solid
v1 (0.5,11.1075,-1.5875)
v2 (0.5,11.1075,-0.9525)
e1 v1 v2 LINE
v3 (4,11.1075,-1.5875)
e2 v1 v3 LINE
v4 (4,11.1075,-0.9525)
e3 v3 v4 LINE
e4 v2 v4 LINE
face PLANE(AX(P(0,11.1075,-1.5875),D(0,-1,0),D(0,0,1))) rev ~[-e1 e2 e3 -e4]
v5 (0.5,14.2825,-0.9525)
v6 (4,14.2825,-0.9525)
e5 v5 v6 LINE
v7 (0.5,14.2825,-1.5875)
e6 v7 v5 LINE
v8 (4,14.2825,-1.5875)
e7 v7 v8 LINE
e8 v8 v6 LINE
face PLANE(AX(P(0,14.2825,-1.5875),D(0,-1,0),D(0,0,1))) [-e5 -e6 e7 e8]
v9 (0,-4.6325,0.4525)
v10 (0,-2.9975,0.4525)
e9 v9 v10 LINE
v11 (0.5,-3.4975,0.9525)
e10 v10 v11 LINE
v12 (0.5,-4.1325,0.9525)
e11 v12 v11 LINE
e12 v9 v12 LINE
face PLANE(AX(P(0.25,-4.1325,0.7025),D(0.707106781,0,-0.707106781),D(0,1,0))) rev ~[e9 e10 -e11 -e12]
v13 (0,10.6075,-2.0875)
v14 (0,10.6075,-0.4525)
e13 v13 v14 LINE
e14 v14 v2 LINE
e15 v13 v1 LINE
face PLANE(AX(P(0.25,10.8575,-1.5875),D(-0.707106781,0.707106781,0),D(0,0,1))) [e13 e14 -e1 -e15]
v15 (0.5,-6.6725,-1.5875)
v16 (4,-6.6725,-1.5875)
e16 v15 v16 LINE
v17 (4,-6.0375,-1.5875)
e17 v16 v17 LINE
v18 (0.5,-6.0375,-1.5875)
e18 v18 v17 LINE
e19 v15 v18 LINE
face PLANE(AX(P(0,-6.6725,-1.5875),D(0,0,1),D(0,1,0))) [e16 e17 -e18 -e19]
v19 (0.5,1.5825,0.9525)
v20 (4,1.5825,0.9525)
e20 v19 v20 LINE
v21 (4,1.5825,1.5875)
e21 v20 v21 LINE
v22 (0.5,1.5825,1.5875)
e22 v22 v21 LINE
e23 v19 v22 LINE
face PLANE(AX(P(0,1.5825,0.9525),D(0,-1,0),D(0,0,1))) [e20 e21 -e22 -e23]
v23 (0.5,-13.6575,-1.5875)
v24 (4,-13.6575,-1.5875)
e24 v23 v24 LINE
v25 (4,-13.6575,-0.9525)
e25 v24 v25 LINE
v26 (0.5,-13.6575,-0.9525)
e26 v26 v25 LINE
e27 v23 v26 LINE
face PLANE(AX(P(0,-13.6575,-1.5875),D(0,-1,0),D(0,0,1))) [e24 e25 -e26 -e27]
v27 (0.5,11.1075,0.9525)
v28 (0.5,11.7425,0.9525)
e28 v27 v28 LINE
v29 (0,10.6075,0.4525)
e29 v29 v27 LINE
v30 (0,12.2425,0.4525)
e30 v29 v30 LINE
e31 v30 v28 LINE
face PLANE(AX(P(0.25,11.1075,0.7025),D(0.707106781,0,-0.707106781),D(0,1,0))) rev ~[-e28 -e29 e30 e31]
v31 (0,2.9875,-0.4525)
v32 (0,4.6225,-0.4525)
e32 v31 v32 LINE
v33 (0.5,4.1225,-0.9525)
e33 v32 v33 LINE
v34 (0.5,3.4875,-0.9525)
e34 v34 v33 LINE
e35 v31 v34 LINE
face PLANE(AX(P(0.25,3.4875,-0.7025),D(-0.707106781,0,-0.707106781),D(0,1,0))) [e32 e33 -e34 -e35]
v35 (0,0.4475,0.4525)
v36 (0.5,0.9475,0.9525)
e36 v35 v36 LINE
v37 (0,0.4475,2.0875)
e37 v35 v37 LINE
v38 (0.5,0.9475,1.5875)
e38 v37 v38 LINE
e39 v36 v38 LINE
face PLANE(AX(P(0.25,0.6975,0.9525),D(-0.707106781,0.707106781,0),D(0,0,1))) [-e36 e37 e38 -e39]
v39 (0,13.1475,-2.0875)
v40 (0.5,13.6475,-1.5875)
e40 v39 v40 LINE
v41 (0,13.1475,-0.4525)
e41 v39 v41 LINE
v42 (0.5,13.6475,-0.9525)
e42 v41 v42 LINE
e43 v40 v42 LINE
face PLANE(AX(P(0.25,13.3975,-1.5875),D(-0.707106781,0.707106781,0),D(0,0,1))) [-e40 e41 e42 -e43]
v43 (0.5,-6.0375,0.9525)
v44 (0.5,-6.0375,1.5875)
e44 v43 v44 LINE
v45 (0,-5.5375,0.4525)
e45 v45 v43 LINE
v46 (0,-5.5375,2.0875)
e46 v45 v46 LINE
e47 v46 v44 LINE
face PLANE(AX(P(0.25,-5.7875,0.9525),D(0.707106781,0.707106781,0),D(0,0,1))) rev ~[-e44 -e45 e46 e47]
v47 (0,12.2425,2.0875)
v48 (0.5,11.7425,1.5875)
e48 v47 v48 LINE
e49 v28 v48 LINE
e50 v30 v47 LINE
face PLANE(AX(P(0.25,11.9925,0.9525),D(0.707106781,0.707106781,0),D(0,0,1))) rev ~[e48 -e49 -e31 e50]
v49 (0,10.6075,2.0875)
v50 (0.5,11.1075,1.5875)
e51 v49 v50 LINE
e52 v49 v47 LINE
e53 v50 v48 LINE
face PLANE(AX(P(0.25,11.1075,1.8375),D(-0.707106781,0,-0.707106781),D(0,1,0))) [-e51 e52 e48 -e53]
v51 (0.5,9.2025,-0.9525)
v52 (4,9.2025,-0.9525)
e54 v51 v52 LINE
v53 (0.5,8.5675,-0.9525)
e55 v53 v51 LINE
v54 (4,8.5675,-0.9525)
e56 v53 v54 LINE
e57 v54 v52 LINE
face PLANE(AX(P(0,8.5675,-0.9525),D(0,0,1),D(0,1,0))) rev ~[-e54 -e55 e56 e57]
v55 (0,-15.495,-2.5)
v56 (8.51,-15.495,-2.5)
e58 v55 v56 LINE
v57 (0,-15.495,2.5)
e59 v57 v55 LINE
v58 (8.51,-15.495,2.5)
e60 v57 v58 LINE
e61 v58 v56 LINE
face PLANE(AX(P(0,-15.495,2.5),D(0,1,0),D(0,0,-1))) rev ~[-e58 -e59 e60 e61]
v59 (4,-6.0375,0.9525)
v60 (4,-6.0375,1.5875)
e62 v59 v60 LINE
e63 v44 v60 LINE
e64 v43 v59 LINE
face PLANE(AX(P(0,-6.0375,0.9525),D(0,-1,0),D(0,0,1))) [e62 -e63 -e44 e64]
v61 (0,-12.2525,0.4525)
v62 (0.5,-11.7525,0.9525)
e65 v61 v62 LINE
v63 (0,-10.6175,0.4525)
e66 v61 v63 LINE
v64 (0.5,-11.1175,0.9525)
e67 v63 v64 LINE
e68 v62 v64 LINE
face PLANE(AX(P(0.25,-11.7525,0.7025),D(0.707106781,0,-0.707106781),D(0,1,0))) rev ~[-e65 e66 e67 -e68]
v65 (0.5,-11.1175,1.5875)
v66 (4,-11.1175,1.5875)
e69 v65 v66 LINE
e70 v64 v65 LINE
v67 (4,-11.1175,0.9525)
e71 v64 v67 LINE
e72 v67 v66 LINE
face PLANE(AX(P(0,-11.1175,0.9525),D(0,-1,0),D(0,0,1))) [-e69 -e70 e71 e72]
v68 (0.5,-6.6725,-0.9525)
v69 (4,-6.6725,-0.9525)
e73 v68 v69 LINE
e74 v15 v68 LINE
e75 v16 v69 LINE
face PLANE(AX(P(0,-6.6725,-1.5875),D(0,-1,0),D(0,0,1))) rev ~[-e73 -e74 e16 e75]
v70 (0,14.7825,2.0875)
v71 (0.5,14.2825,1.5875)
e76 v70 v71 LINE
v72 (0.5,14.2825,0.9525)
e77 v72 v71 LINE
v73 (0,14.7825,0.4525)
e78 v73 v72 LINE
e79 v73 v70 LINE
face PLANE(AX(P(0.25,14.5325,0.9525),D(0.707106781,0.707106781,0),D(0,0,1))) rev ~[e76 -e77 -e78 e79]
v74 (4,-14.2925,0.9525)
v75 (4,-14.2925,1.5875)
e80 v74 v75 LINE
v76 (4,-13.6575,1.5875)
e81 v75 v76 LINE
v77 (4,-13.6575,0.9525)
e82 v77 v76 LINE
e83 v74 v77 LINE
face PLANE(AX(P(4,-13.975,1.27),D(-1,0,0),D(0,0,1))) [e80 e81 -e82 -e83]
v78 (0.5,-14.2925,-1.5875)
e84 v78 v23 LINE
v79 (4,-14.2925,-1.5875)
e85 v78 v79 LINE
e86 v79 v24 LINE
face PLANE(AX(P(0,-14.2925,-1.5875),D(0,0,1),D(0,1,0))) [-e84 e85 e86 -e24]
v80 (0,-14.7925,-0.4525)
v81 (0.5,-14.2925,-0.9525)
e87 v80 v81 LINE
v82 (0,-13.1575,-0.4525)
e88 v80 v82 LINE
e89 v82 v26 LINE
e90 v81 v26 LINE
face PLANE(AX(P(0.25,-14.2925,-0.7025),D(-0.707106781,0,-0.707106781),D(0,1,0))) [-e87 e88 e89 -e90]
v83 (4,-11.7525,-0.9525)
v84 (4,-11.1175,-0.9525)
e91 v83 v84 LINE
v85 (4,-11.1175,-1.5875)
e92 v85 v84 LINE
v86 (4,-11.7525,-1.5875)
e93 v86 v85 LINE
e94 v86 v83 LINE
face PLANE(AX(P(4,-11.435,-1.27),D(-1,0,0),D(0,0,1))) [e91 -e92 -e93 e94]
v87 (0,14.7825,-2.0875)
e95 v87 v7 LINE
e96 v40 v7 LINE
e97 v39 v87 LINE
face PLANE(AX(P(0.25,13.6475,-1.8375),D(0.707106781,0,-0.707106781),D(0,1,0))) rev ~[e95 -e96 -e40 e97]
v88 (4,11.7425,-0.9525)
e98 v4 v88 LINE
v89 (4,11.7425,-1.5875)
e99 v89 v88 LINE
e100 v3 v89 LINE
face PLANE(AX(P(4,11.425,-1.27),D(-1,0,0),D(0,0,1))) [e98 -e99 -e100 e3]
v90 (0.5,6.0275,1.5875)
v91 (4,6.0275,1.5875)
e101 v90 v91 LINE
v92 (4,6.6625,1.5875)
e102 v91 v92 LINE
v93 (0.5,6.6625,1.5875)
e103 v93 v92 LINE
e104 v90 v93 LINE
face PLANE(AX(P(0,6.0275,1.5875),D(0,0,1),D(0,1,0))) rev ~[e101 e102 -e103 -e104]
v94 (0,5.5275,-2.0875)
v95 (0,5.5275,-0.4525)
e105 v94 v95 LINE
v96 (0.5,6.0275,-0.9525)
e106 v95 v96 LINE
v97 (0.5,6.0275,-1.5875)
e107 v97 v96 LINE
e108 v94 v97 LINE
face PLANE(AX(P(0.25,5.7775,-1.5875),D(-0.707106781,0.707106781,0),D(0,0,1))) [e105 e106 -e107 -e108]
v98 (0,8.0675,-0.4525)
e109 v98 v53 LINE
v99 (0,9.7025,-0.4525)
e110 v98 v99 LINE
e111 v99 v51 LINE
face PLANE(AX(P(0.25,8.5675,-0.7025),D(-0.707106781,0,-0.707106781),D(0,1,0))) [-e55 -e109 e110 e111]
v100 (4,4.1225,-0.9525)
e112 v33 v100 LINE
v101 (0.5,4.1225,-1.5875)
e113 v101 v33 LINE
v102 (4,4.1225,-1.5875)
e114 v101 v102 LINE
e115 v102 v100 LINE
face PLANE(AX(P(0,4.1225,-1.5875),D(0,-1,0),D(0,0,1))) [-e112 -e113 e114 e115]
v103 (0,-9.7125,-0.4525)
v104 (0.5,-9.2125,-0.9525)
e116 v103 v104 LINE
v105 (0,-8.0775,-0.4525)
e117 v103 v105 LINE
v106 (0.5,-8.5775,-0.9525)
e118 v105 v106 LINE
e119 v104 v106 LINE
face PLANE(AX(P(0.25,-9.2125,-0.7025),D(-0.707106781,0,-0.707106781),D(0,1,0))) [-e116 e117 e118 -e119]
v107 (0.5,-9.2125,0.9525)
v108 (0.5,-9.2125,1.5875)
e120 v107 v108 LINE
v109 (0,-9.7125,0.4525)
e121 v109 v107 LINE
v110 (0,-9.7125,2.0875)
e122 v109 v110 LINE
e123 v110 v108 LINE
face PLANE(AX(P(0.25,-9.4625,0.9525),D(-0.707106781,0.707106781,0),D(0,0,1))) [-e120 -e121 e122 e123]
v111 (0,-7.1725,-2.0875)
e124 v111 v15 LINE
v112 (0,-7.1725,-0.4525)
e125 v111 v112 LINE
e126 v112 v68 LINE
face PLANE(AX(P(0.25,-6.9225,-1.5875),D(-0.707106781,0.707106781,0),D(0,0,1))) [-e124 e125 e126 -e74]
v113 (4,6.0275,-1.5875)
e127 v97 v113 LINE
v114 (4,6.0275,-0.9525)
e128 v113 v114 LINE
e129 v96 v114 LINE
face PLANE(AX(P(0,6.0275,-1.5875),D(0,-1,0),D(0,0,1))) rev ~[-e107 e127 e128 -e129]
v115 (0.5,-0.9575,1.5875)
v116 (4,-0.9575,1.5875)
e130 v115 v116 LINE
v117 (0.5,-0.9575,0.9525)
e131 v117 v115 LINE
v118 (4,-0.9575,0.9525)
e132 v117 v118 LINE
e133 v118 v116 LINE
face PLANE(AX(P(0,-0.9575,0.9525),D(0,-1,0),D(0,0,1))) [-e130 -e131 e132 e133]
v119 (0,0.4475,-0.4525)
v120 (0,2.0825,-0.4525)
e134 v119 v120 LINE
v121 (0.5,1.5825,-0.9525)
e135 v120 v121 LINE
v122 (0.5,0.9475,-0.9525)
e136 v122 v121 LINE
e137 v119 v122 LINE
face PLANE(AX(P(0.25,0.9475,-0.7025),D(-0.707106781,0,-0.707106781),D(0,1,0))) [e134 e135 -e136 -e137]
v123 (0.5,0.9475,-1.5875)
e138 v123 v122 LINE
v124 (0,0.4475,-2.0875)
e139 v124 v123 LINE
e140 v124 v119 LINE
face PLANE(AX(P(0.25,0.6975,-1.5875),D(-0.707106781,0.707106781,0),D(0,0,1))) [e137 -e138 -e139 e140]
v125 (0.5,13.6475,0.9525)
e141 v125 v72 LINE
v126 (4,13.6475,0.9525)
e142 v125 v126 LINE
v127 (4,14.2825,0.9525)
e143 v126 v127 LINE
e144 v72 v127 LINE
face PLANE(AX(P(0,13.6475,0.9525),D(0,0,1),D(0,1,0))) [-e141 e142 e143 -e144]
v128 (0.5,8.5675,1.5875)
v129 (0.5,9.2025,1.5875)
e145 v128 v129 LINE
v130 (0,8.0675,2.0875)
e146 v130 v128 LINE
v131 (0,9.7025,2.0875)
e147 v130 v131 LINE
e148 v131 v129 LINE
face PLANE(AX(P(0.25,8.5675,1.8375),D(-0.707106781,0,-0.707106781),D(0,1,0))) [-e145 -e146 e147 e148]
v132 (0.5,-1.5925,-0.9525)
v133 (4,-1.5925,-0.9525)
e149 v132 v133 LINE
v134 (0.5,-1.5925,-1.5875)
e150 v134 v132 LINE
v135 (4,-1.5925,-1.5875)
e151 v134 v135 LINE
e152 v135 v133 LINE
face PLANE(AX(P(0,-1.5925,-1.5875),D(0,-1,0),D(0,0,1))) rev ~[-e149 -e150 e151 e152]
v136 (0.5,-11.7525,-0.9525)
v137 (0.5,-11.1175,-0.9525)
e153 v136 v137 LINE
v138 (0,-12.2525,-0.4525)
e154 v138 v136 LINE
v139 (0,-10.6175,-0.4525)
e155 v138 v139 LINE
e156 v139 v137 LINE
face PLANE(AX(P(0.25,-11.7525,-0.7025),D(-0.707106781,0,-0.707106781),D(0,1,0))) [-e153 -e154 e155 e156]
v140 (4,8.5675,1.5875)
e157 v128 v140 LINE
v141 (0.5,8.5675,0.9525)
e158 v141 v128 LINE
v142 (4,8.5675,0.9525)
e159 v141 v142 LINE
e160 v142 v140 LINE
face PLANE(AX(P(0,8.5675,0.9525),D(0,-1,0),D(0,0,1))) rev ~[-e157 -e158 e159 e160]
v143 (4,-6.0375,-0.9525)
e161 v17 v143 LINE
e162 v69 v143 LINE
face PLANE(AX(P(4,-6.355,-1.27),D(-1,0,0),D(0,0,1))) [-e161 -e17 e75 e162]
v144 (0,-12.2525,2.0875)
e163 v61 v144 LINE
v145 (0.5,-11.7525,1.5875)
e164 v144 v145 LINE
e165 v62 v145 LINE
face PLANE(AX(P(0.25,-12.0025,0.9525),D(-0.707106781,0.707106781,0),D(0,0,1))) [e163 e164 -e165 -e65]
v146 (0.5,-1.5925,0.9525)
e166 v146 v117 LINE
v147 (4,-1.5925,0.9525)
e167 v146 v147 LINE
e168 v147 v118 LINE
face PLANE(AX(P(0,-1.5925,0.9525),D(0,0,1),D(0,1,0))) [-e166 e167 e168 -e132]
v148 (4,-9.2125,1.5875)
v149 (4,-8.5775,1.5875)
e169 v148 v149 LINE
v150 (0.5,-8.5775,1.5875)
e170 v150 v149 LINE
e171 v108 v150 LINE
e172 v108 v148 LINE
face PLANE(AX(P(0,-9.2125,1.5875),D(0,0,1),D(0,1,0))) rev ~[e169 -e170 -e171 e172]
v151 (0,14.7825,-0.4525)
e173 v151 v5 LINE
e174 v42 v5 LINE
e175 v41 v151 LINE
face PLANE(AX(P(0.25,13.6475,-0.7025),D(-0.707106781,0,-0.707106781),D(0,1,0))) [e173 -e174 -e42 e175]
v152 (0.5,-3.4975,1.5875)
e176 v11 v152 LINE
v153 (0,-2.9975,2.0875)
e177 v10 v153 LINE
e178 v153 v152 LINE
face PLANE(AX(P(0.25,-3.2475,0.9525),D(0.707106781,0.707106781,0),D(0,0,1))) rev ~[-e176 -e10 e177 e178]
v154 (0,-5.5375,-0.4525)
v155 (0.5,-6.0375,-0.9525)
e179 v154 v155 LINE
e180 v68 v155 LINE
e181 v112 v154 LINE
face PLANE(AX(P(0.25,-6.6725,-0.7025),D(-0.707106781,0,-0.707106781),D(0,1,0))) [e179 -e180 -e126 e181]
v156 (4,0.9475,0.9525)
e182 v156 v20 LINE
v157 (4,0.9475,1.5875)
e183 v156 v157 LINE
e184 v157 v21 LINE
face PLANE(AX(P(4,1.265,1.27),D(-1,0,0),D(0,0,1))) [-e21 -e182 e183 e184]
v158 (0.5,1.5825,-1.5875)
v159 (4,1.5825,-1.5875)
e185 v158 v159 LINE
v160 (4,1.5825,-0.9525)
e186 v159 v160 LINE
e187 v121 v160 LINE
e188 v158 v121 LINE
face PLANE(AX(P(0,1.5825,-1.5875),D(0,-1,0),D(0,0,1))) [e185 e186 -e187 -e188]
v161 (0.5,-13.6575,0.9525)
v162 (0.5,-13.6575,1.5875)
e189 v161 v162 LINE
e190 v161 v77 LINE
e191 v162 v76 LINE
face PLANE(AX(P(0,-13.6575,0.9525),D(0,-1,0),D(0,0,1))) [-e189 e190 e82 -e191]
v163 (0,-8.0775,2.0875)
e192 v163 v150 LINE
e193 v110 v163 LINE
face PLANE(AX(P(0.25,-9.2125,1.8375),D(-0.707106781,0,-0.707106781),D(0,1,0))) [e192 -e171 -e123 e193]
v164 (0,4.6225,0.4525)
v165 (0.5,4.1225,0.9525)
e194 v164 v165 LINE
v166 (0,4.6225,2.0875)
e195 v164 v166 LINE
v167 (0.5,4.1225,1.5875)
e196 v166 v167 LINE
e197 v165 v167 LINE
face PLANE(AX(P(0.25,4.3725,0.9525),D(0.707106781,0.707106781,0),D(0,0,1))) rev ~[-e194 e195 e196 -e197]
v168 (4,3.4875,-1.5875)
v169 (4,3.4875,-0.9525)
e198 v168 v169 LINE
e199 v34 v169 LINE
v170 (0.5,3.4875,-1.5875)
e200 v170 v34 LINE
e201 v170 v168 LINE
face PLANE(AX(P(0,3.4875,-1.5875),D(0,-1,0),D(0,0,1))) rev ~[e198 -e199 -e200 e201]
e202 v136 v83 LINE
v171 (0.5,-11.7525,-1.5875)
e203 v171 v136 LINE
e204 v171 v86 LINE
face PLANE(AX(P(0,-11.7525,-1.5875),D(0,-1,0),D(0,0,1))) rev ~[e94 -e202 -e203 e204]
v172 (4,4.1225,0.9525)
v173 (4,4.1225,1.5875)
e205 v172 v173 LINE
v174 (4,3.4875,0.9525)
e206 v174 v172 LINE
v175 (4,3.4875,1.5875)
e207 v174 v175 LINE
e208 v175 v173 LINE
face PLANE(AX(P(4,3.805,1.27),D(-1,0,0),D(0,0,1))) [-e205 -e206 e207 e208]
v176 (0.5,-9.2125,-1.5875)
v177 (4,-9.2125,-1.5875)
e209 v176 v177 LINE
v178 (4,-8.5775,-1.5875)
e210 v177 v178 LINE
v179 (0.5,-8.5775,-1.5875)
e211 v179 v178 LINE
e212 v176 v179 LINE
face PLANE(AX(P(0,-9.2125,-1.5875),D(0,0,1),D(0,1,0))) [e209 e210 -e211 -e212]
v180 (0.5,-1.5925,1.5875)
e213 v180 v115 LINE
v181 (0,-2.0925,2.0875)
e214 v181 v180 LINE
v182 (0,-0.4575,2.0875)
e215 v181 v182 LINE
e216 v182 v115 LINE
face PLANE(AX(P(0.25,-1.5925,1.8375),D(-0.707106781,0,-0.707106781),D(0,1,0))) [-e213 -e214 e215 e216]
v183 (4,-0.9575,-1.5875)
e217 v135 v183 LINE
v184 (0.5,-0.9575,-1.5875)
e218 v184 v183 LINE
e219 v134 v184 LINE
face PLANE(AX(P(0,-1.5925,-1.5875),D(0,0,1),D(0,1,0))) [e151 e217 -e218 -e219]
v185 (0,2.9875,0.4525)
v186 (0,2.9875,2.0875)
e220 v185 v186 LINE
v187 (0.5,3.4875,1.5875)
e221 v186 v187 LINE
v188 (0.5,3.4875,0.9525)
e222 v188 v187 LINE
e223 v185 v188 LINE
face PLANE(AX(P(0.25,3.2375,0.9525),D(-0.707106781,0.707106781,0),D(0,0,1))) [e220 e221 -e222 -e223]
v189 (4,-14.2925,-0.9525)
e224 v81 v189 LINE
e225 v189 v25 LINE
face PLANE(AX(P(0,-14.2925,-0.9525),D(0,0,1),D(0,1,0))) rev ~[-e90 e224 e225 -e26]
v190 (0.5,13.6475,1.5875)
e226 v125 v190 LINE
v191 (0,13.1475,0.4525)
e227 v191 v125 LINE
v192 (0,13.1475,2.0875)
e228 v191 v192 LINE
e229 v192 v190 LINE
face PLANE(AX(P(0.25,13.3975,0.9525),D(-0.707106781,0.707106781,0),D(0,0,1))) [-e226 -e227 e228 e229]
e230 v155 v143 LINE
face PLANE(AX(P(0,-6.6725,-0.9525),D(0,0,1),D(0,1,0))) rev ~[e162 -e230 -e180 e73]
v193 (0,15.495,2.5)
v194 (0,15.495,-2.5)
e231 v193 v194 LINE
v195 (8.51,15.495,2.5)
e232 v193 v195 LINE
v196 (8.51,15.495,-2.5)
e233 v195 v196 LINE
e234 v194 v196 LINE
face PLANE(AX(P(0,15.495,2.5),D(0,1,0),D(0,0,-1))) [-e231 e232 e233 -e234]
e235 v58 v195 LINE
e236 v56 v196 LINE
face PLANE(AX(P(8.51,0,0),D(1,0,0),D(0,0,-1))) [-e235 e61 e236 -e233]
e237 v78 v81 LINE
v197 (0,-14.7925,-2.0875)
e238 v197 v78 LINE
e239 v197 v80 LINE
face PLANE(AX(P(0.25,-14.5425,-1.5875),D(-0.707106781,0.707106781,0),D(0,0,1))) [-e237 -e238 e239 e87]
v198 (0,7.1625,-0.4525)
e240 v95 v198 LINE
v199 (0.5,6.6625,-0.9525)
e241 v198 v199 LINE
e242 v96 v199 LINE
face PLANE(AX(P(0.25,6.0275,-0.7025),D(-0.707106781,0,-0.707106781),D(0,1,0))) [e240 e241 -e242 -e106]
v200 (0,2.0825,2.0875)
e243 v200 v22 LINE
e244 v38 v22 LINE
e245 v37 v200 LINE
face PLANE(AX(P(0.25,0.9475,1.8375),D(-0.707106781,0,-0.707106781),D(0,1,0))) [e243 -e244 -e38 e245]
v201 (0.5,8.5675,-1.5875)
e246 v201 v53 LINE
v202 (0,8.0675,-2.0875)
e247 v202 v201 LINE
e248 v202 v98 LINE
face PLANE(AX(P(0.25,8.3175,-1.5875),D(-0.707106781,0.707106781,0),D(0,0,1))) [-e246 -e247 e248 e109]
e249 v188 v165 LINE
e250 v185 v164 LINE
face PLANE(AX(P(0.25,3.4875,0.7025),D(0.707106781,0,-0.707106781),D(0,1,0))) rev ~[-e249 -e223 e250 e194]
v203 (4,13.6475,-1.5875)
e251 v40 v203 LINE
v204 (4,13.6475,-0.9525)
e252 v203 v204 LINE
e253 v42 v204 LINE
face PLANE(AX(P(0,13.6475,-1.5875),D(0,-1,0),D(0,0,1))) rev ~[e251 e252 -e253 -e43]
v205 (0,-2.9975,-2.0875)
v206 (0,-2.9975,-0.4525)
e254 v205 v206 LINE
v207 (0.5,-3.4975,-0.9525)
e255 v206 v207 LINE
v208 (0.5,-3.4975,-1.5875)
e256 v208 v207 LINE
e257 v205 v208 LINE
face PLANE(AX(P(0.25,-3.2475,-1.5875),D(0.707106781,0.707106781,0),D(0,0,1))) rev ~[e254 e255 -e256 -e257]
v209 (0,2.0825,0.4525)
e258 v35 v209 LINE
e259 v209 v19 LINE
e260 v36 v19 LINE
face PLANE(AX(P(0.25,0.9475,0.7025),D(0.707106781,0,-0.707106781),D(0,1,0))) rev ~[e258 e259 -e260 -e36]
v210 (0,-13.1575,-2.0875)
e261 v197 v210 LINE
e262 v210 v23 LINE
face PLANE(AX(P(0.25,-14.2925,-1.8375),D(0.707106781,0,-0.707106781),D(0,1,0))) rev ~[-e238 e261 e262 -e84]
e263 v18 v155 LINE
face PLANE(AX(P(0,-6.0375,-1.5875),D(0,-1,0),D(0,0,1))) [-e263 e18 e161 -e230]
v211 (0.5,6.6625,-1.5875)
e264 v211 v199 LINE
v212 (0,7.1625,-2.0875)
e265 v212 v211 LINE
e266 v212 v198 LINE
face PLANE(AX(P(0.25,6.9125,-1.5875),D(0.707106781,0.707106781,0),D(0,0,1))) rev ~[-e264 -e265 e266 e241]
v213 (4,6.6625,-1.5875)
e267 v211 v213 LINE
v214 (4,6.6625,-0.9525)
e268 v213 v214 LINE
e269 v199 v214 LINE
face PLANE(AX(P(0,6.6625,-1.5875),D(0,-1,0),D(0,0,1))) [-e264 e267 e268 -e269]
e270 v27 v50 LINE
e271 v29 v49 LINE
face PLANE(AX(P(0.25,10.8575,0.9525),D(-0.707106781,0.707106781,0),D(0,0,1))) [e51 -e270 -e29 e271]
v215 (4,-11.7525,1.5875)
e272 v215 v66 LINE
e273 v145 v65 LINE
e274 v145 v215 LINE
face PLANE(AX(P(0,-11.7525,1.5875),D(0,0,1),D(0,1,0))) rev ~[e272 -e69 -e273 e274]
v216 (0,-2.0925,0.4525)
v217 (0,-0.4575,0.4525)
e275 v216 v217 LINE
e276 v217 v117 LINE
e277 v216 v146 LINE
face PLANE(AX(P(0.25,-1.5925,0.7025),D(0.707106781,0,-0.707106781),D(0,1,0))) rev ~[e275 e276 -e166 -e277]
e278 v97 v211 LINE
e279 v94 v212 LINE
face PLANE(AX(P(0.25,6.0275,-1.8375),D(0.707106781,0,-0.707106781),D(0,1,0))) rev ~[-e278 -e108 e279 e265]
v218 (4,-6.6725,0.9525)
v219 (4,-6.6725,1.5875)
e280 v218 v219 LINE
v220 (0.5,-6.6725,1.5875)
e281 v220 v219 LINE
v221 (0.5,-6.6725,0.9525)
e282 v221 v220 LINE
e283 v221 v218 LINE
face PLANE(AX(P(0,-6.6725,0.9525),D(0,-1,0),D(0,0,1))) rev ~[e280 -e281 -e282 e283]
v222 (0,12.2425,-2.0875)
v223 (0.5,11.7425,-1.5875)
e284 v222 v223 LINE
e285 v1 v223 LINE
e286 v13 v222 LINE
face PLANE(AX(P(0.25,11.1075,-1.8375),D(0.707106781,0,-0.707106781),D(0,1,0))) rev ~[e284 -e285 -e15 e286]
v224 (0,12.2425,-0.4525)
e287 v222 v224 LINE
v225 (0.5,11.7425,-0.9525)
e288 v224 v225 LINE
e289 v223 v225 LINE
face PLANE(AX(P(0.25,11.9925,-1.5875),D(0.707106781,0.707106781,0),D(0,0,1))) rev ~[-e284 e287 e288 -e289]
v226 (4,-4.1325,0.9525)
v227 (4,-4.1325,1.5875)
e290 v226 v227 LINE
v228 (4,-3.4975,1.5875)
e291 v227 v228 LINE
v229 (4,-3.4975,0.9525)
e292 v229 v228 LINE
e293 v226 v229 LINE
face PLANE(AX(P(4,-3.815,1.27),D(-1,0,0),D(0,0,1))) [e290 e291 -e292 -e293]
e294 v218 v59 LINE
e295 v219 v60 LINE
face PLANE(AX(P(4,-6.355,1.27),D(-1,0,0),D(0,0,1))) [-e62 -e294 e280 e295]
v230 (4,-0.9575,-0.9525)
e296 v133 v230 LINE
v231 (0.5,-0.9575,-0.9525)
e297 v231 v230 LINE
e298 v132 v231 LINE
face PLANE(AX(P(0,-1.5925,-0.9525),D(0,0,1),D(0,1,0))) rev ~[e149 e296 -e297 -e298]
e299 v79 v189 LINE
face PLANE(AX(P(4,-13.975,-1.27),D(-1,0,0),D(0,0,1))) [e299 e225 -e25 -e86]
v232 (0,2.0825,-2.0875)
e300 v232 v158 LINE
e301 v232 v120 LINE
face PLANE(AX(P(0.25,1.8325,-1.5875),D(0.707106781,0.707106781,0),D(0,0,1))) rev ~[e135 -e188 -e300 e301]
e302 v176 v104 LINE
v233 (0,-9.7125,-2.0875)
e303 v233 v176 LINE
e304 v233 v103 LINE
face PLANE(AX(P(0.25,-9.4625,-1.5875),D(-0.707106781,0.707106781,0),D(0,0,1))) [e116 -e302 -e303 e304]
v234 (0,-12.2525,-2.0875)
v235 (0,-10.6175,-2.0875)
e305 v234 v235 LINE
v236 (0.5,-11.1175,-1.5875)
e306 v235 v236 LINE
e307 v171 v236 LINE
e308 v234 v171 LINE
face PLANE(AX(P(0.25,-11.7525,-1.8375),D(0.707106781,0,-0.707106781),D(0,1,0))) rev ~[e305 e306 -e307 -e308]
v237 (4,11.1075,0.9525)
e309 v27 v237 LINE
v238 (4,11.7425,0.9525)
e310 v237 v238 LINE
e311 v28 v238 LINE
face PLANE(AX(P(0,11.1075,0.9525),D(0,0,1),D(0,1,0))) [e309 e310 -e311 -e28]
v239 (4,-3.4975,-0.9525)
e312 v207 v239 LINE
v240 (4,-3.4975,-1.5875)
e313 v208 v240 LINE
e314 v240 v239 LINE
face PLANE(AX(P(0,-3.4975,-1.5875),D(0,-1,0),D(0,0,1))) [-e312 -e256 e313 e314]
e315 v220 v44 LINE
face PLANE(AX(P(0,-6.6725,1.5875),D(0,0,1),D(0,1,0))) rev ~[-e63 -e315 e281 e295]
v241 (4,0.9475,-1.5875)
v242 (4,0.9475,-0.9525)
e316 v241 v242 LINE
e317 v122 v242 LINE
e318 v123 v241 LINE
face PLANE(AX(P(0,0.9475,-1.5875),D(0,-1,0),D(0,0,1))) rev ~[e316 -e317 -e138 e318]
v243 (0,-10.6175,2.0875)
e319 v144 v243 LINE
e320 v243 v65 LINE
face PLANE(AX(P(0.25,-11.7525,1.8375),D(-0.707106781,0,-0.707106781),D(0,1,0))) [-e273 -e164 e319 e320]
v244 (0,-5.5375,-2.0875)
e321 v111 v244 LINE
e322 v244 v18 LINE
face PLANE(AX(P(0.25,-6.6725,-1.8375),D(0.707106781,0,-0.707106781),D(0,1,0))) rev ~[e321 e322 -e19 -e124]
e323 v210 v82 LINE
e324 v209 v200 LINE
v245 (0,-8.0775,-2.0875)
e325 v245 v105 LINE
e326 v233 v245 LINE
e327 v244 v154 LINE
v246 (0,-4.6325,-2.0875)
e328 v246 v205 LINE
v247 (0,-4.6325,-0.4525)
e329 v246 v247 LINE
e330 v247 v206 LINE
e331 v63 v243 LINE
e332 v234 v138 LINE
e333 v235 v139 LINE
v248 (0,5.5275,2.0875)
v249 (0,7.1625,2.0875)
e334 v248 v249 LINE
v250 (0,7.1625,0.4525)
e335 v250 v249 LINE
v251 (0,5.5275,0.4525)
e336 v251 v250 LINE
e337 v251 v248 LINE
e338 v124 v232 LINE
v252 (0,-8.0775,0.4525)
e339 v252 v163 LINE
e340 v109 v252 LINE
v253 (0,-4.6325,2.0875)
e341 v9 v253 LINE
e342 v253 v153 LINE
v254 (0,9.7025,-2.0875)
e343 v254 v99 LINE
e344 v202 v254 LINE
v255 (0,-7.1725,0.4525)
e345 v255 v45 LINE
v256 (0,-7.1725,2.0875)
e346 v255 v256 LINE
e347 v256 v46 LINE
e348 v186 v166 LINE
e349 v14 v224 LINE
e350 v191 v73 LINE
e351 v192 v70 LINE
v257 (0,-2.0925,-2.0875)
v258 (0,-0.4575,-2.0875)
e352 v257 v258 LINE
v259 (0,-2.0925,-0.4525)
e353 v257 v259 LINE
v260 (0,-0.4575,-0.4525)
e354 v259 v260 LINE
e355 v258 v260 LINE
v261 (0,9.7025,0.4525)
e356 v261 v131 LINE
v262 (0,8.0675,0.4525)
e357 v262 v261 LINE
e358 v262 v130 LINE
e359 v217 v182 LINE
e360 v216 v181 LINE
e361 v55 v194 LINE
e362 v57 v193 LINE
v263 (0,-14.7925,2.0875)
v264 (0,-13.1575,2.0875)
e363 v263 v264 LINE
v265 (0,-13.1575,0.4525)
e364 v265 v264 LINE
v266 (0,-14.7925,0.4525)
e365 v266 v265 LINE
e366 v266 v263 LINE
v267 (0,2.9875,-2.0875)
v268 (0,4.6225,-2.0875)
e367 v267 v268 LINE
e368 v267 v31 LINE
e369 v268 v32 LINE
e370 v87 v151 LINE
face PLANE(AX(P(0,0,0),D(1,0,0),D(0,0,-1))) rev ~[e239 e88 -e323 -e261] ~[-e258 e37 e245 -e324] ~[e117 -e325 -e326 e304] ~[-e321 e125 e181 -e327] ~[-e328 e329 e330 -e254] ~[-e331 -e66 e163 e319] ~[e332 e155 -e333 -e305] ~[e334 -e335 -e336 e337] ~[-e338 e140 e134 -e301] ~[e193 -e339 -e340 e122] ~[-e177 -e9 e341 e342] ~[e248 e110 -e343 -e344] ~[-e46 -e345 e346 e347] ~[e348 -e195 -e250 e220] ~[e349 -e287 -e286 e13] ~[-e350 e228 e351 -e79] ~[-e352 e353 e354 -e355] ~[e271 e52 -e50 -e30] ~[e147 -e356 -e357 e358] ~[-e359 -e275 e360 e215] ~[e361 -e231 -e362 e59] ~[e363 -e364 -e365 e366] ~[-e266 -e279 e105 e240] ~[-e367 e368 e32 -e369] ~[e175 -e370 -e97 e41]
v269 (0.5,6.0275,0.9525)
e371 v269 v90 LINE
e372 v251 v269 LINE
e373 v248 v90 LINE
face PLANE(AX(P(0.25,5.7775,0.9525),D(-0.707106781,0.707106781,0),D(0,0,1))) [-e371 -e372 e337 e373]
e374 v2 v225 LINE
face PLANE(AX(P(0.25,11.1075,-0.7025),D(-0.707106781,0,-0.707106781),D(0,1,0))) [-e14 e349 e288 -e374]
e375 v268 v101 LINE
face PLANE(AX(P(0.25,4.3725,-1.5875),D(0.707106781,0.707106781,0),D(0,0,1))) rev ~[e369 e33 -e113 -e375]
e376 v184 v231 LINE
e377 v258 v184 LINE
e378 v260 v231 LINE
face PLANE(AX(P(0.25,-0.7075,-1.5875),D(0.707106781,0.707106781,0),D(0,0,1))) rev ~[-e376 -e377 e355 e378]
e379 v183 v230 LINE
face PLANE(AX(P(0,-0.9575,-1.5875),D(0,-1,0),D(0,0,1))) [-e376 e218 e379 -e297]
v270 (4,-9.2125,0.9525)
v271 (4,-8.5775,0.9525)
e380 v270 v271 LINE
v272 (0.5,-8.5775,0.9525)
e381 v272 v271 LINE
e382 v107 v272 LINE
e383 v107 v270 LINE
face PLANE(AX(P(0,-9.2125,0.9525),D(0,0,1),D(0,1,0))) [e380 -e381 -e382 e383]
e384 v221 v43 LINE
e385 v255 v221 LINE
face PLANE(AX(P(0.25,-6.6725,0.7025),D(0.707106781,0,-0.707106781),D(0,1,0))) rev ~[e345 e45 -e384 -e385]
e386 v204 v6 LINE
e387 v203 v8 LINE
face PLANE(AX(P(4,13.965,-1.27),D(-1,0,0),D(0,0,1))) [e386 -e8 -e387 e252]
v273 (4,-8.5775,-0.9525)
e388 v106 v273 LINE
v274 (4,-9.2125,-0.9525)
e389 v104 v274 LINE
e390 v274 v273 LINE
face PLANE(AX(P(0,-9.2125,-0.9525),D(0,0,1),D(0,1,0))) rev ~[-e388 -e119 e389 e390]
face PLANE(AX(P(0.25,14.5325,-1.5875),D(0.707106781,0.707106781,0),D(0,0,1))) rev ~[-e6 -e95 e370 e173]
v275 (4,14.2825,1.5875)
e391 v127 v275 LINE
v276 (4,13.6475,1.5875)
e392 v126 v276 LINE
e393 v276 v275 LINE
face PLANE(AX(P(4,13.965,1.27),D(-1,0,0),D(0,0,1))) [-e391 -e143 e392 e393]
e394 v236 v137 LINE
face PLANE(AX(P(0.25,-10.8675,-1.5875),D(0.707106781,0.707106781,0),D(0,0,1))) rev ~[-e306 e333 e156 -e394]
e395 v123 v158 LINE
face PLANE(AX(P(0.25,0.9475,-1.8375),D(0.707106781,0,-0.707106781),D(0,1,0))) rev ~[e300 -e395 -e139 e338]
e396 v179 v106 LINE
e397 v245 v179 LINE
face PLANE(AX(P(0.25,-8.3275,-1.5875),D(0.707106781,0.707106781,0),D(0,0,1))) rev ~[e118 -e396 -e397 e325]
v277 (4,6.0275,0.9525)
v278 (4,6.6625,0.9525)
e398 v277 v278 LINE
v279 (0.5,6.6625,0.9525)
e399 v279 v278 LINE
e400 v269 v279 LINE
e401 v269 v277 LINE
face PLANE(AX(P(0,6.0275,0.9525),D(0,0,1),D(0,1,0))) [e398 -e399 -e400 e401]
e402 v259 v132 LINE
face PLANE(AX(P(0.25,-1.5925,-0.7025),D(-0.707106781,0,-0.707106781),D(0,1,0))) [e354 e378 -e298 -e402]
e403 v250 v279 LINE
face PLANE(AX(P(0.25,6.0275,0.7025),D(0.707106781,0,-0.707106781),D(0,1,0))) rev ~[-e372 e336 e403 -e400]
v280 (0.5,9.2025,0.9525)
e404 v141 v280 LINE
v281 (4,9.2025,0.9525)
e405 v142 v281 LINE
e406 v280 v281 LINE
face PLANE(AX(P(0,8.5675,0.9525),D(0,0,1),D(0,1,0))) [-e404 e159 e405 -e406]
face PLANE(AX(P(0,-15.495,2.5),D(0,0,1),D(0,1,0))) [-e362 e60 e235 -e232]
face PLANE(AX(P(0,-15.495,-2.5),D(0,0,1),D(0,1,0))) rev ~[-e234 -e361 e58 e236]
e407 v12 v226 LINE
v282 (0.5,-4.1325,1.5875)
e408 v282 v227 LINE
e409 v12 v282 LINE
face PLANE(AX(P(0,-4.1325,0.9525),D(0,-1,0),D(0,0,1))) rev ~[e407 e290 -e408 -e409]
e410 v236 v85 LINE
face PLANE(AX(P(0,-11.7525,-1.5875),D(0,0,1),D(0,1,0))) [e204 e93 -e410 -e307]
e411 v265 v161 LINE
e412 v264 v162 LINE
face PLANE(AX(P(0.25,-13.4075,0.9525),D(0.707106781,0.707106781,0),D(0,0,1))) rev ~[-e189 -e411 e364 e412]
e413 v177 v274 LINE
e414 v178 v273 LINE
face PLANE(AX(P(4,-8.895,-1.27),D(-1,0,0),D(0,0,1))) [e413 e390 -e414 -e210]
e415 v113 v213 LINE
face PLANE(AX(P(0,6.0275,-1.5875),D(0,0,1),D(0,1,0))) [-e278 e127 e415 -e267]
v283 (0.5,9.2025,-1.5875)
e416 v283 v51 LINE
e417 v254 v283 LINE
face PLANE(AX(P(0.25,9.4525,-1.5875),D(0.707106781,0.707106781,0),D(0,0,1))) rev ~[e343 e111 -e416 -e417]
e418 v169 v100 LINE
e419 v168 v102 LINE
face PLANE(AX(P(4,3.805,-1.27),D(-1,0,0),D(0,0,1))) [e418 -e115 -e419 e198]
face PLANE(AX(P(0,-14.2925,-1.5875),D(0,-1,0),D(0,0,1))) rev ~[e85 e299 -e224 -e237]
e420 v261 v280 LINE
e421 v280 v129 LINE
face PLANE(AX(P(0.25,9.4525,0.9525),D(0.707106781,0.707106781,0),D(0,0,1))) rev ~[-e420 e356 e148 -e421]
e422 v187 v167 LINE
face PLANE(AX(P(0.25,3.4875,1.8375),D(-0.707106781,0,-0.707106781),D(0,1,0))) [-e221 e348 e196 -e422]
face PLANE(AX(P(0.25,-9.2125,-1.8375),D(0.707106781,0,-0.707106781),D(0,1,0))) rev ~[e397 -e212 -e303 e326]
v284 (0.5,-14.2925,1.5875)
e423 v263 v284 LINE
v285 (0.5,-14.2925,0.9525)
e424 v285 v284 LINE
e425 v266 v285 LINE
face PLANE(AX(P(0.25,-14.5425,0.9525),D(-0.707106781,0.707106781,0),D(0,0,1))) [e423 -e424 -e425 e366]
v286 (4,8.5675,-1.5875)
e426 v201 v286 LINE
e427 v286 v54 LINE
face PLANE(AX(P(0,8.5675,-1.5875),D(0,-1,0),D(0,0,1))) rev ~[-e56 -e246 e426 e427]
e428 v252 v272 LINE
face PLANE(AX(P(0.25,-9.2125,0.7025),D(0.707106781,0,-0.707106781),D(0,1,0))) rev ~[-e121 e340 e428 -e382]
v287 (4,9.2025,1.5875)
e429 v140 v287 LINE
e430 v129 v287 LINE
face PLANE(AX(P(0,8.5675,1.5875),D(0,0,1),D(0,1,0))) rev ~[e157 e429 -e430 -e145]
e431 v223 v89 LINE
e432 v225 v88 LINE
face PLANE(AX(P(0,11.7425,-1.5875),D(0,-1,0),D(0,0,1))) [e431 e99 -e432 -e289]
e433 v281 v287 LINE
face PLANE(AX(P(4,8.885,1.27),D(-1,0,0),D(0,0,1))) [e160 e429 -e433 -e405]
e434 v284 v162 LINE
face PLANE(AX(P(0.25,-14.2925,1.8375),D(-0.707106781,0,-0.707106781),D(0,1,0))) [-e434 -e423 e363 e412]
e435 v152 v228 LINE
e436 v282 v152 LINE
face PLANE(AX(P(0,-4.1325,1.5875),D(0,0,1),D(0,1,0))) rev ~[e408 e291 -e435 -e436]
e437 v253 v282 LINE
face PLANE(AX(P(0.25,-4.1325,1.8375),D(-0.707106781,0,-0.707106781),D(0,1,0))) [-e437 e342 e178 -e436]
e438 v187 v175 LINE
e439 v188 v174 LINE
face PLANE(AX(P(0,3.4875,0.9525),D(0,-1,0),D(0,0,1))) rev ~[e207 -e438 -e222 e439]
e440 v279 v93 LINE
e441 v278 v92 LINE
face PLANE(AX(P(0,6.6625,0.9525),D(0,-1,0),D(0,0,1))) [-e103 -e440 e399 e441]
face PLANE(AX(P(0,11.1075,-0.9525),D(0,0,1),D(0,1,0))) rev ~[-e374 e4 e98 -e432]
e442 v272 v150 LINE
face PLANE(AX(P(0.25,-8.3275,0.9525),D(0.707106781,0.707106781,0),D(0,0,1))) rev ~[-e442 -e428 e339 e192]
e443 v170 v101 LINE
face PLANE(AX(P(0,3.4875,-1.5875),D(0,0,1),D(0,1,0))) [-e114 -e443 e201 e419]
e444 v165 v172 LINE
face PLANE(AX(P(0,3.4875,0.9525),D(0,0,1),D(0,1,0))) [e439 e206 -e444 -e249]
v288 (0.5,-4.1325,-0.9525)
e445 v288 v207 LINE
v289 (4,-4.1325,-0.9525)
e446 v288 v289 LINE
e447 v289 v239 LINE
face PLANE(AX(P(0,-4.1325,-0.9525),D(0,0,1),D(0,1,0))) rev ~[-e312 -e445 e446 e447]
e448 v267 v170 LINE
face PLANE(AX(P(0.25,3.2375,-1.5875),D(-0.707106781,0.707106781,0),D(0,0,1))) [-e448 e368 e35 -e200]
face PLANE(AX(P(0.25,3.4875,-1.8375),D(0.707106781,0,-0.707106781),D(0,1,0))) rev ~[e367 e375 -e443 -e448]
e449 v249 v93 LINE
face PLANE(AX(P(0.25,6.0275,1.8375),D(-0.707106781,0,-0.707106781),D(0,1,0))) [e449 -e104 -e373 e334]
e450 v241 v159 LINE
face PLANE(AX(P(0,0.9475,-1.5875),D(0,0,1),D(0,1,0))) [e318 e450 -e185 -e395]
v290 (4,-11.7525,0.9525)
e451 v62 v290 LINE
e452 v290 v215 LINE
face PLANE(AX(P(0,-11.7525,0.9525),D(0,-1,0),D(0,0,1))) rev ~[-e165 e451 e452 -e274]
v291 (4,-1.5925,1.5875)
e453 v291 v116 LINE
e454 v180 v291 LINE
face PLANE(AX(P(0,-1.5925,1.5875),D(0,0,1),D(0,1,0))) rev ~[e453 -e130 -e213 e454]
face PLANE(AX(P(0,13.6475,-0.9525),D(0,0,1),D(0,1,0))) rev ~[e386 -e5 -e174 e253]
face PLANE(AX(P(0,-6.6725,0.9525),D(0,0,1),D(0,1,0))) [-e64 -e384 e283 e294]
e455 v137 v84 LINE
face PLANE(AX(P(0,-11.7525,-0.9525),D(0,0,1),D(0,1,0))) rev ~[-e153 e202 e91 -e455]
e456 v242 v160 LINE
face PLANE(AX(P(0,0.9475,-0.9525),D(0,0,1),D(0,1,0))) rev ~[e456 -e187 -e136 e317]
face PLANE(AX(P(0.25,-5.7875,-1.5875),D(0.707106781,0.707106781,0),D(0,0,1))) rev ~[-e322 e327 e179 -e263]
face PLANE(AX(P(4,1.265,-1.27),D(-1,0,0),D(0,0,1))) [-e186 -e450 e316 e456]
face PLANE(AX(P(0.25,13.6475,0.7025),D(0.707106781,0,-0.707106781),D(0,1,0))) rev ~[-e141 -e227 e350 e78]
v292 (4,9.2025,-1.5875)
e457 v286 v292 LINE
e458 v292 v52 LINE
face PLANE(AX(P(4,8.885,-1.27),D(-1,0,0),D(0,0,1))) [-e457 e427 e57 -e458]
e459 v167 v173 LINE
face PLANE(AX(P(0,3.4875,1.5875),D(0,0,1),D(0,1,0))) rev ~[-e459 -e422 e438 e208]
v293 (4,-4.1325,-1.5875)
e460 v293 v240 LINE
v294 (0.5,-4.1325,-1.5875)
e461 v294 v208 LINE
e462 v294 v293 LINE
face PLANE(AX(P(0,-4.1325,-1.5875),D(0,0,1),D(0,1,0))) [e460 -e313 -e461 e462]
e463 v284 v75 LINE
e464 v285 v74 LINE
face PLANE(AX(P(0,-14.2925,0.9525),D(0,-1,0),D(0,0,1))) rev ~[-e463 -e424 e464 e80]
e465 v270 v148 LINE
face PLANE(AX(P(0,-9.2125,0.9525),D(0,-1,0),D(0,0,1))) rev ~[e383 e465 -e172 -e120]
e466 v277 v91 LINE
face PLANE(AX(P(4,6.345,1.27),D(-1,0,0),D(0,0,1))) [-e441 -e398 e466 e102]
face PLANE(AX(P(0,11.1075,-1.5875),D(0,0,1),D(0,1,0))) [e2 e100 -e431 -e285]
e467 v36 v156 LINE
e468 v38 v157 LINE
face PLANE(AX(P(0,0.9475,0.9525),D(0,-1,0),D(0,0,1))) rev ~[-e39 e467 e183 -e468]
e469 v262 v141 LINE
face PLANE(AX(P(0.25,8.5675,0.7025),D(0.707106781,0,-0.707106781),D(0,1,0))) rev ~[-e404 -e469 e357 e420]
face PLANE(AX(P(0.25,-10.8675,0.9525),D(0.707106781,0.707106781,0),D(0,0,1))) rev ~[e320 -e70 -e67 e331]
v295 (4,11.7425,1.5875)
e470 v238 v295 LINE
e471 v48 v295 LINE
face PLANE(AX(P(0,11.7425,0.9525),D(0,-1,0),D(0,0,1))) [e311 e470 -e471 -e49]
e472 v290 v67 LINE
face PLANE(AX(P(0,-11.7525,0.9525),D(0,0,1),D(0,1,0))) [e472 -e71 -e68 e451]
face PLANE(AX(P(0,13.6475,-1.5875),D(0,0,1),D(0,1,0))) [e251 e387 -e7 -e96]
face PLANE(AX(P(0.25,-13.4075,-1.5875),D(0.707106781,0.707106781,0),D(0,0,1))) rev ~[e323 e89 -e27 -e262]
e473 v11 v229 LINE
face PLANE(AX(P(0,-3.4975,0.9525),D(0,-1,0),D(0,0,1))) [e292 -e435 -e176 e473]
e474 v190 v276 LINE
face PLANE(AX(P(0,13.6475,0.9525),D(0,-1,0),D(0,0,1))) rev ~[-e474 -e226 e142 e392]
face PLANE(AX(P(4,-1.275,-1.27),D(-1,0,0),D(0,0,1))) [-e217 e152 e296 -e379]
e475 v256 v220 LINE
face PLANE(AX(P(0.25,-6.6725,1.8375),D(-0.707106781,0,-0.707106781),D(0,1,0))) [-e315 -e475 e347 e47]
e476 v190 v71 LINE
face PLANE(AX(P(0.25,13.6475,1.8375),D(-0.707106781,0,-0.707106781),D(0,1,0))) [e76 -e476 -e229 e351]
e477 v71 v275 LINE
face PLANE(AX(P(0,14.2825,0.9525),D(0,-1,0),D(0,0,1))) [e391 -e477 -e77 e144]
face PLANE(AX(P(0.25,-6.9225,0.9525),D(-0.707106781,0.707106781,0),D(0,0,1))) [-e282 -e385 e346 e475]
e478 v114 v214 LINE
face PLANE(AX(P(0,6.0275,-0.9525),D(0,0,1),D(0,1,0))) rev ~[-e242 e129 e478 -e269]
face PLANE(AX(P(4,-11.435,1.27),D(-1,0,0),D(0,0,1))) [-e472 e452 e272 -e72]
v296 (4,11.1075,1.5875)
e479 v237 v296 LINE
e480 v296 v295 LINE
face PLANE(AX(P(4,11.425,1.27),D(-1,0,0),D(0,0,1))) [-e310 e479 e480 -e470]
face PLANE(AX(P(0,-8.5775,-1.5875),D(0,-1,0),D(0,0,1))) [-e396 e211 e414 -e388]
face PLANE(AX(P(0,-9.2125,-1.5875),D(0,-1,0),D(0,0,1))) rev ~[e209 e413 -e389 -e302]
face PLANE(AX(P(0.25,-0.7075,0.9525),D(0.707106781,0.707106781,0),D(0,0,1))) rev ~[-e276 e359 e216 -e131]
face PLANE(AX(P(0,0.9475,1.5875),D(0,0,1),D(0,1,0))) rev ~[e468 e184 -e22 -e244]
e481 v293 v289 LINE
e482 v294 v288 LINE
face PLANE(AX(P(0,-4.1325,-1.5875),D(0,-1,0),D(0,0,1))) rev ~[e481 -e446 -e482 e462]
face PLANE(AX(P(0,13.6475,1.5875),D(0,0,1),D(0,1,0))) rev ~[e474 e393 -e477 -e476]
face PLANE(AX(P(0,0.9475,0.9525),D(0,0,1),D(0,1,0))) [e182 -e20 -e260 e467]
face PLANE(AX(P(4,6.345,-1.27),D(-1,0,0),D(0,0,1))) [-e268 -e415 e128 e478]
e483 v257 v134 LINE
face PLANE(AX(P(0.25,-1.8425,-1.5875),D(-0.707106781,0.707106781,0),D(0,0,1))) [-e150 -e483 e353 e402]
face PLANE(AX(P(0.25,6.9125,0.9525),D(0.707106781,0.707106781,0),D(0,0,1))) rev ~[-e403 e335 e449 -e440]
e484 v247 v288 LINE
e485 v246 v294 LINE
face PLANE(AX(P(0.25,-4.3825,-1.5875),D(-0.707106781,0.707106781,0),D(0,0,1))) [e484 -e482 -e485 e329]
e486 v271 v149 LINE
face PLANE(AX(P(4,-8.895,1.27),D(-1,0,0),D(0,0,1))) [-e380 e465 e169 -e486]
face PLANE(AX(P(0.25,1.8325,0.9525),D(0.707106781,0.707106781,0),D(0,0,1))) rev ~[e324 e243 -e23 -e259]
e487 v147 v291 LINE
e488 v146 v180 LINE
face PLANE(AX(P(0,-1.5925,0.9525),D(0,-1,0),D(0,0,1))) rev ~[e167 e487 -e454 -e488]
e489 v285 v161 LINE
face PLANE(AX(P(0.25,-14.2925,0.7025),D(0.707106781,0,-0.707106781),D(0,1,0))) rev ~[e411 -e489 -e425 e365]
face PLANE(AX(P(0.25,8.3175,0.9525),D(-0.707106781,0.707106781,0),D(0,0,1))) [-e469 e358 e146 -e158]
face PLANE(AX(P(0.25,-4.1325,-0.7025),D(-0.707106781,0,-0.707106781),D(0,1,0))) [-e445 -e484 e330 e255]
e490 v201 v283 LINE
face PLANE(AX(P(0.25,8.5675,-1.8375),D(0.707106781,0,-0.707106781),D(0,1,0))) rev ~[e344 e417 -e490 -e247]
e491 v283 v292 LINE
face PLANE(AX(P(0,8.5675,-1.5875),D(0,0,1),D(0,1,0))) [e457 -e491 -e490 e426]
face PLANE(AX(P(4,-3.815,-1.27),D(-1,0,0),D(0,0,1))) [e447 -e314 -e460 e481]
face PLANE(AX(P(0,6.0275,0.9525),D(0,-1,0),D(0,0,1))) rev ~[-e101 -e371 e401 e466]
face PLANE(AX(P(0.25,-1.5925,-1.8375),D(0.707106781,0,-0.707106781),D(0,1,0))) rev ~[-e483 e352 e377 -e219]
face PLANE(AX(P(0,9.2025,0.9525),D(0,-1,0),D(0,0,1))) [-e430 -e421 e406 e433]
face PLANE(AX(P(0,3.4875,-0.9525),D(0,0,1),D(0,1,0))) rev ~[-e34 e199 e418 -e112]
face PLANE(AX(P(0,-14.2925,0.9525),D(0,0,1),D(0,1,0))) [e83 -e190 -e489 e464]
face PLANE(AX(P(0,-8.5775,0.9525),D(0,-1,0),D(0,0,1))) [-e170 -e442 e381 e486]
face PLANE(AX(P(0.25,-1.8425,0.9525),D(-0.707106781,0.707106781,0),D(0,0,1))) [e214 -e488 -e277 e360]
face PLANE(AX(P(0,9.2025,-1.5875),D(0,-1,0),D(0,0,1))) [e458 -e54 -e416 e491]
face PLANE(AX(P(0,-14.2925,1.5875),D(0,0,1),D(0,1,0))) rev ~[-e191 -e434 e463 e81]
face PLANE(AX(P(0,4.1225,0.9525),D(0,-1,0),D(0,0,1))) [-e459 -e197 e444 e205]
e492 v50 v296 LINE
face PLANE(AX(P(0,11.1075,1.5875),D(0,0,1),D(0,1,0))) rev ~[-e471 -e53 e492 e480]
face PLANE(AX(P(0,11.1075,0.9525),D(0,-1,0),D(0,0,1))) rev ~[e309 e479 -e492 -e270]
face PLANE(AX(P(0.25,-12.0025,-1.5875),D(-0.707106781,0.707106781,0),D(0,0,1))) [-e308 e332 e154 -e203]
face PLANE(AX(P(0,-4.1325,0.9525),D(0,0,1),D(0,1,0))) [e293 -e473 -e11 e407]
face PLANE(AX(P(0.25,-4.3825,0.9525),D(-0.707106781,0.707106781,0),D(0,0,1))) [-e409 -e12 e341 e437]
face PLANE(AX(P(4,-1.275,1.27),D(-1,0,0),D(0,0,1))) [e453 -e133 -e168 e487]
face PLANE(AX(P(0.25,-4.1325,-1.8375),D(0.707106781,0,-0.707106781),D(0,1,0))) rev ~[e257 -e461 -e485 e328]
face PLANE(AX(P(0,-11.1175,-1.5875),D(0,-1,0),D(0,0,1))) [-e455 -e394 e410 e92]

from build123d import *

# Parameters (mm, degrees)
SKETCH2_W           = 5
SKETCH2_H           = 30.99
BOSS_EXTRUDE1_DEPTH = 8.51
SKETCH3_W           = 0.635
SKETCH3_H           = 0.635
CUT_EXTRUDE1_DEPTH  = 4
CHAMFER2_SIZE       = 0.5


with BuildPart() as part:
    # Sketch2 → Boss-Extrude1 (new body)
    with BuildSketch(Plane(origin=(0, 0, 0), x_dir=(0, 0, -1), z_dir=(1, 0, 0))):
        Rectangle(SKETCH2_W, SKETCH2_H)
    extrude(amount=BOSS_EXTRUDE1_DEPTH)

    # Sketch3 → Cut-Extrude1 (cut)
    with BuildSketch(Plane.ZY):
        with Locations((-1.27, 13.965)):
            Rectangle(SKETCH3_W, SKETCH3_H)
        with Locations((1.27, 13.965)):
            Rectangle(SKETCH3_W, SKETCH3_H)
        with Locations((1.27, 11.425)):
            Rectangle(SKETCH3_W, SKETCH3_H)
        with Locations((1.27, 8.885)):
            Rectangle(SKETCH3_W, SKETCH3_H)
        with Locations((1.27, 6.345)):
            Rectangle(SKETCH3_W, SKETCH3_H)
        with Locations((1.27, 3.805)):
            Rectangle(SKETCH3_W, SKETCH3_H)
        with Locations((1.27, 1.265)):
            Rectangle(SKETCH3_W, SKETCH3_H)
        with Locations((1.27, -1.275)):
            Rectangle(SKETCH3_W, SKETCH3_H)
        with Locations((1.27, -3.815)):
            Rectangle(SKETCH3_W, SKETCH3_H)
        with Locations((1.27, -6.355)):
            Rectangle(SKETCH3_W, SKETCH3_H)
        with Locations((1.27, -8.895)):
            Rectangle(SKETCH3_W, SKETCH3_H)
        with Locations((1.27, -11.435)):
            Rectangle(SKETCH3_W, SKETCH3_H)
        with Locations((1.27, -13.975)):
            Rectangle(SKETCH3_W, SKETCH3_H)
        with Locations((-1.27, 11.425)):
            Rectangle(SKETCH3_W, SKETCH3_H)
        with Locations((-1.27, 8.885)):
            Rectangle(SKETCH3_W, SKETCH3_H)
        with Locations((-1.27, 6.345)):
            Rectangle(SKETCH3_W, SKETCH3_H)
        with Locations((-1.27, 3.805)):
            Rectangle(SKETCH3_W, SKETCH3_H)
        with Locations((-1.27, 1.265)):
            Rectangle(SKETCH3_W, SKETCH3_H)
        with Locations((-1.27, -1.275)):
            Rectangle(SKETCH3_W, SKETCH3_H)
        with Locations((-1.27, -3.815)):
            Rectangle(SKETCH3_W, SKETCH3_H)
        with Locations((-1.27, -6.355)):
            Rectangle(SKETCH3_W, SKETCH3_H)
        with Locations((-1.27, -8.895)):
            Rectangle(SKETCH3_W, SKETCH3_H)
        with Locations((-1.27, -11.435)):
            Rectangle(SKETCH3_W, SKETCH3_H)
        with Locations((-1.27, -13.975)):
            Rectangle(SKETCH3_W, SKETCH3_H)
    extrude(amount=-CUT_EXTRUDE1_DEPTH, mode=Mode.SUBTRACT)

    # Chamfer2
    chamfer2_edges = [part.edges().sort_by_distance(p)[0] for p in [
        (0, -6.6725, 1.27),
        (0, -6.355, 1.5875),
        (0, -6.0375, 1.27),
        (0, -6.355, 0.9525),
        (0, -4.1325, 1.27),
        (0, -3.815, 1.5875),
        (0, -3.4975, 1.27),
        (0, -3.815, 0.9525),
        (0, -1.5925, 1.27),
        (0, -1.275, 1.5875),
        (0, -0.9575, 1.27),
        (0, -1.275, 0.9525),
        (0, 0.9475, 1.27),
        (0, 1.265, 1.5875),
        (0, 1.5825, 1.27),
        (0, 1.265, 0.9525),
        (0, 3.4875, 1.27),
        (0, 3.805, 1.5875),
        (0, 4.1225, 1.27),
        (0, 3.805, 0.9525),
        (0, 6.0275, 1.27),
        (0, 6.345, 1.5875),
        (0, 6.6625, 1.27),
        (0, 6.345, 0.9525),
        (0, 8.5675, 1.27),
        (0, 8.885, 1.5875),
        (0, 9.2025, 1.27),
        (0, 8.885, 0.9525),
        (0, 11.1075, 1.27),
        (0, 11.425, 1.5875),
        (0, 11.7425, 1.27),
        (0, 11.425, 0.9525),
        (0, 13.6475, 1.27),
        (0, 13.965, 1.5875),
        (0, 14.2825, 1.27),
        (0, 13.965, 0.9525),
        (0, 0.9475, -1.27),
        (0, 1.265, -0.9525),
        (0, 1.5825, -1.27),
        (0, 1.265, -1.5875),
        (0, -1.5925, -1.27),
        (0, -1.275, -0.9525),
        (0, -0.9575, -1.27),
        (0, -1.275, -1.5875),
        (0, -4.1325, -1.27),
        (0, -3.815, -0.9525),
        (0, -3.4975, -1.27),
        (0, -3.815, -1.5875),
        (0, -6.6725, -1.27),
        (0, -6.355, -0.9525),
        (0, -6.0375, -1.27),
        (0, -6.355, -1.5875),
        (0, -9.2125, -1.27),
        (0, -8.895, -0.9525),
        (0, -8.5775, -1.27),
        (0, -8.895, -1.5875),
        (0, -11.7525, -1.27),
        (0, -11.435, -0.9525),
        (0, -11.1175, -1.27),
        (0, -11.435, -1.5875),
        (0, -14.2925, -1.27),
        (0, -13.975, -0.9525),
        (0, -13.6575, -1.27),
        (0, -13.975, -1.5875),
        (0, 13.965, -0.9525),
        (0, 14.2825, -1.27),
        (0, 13.965, -1.5875),
        (0, 13.6475, -1.27),
        (0, 3.4875, -1.27),
        (0, 3.805, -0.9525),
        (0, 4.1225, -1.27),
        (0, 3.805, -1.5875),
        (0, 6.0275, -1.27),
        (0, 6.345, -0.9525),
        (0, 6.6625, -1.27),
        (0, 6.345, -1.5875),
        (0, 8.5675, -1.27),
        (0, 8.885, -0.9525),
        (0, 9.2025, -1.27),
        (0, 8.885, -1.5875),
        (0, 11.1075, -1.27),
        (0, 11.425, -0.9525),
        (0, 11.7425, -1.27),
        (0, 11.425, -1.5875),
        (0, -14.2925, 1.27),
        (0, -13.975, 1.5875),
        (0, -13.6575, 1.27),
        (0, -13.975, 0.9525),
        (0, -11.7525, 1.27),
        (0, -11.435, 1.5875),
        (0, -11.1175, 1.27),
        (0, -11.435, 0.9525),
        (0, -9.2125, 1.27),
        (0, -8.895, 1.5875),
        (0, -8.5775, 1.27),
        (0, -8.895, 0.9525),
    ]]
    chamfer(chamfer2_edges, length=CHAMFER2_SIZE)


solid = part.part
